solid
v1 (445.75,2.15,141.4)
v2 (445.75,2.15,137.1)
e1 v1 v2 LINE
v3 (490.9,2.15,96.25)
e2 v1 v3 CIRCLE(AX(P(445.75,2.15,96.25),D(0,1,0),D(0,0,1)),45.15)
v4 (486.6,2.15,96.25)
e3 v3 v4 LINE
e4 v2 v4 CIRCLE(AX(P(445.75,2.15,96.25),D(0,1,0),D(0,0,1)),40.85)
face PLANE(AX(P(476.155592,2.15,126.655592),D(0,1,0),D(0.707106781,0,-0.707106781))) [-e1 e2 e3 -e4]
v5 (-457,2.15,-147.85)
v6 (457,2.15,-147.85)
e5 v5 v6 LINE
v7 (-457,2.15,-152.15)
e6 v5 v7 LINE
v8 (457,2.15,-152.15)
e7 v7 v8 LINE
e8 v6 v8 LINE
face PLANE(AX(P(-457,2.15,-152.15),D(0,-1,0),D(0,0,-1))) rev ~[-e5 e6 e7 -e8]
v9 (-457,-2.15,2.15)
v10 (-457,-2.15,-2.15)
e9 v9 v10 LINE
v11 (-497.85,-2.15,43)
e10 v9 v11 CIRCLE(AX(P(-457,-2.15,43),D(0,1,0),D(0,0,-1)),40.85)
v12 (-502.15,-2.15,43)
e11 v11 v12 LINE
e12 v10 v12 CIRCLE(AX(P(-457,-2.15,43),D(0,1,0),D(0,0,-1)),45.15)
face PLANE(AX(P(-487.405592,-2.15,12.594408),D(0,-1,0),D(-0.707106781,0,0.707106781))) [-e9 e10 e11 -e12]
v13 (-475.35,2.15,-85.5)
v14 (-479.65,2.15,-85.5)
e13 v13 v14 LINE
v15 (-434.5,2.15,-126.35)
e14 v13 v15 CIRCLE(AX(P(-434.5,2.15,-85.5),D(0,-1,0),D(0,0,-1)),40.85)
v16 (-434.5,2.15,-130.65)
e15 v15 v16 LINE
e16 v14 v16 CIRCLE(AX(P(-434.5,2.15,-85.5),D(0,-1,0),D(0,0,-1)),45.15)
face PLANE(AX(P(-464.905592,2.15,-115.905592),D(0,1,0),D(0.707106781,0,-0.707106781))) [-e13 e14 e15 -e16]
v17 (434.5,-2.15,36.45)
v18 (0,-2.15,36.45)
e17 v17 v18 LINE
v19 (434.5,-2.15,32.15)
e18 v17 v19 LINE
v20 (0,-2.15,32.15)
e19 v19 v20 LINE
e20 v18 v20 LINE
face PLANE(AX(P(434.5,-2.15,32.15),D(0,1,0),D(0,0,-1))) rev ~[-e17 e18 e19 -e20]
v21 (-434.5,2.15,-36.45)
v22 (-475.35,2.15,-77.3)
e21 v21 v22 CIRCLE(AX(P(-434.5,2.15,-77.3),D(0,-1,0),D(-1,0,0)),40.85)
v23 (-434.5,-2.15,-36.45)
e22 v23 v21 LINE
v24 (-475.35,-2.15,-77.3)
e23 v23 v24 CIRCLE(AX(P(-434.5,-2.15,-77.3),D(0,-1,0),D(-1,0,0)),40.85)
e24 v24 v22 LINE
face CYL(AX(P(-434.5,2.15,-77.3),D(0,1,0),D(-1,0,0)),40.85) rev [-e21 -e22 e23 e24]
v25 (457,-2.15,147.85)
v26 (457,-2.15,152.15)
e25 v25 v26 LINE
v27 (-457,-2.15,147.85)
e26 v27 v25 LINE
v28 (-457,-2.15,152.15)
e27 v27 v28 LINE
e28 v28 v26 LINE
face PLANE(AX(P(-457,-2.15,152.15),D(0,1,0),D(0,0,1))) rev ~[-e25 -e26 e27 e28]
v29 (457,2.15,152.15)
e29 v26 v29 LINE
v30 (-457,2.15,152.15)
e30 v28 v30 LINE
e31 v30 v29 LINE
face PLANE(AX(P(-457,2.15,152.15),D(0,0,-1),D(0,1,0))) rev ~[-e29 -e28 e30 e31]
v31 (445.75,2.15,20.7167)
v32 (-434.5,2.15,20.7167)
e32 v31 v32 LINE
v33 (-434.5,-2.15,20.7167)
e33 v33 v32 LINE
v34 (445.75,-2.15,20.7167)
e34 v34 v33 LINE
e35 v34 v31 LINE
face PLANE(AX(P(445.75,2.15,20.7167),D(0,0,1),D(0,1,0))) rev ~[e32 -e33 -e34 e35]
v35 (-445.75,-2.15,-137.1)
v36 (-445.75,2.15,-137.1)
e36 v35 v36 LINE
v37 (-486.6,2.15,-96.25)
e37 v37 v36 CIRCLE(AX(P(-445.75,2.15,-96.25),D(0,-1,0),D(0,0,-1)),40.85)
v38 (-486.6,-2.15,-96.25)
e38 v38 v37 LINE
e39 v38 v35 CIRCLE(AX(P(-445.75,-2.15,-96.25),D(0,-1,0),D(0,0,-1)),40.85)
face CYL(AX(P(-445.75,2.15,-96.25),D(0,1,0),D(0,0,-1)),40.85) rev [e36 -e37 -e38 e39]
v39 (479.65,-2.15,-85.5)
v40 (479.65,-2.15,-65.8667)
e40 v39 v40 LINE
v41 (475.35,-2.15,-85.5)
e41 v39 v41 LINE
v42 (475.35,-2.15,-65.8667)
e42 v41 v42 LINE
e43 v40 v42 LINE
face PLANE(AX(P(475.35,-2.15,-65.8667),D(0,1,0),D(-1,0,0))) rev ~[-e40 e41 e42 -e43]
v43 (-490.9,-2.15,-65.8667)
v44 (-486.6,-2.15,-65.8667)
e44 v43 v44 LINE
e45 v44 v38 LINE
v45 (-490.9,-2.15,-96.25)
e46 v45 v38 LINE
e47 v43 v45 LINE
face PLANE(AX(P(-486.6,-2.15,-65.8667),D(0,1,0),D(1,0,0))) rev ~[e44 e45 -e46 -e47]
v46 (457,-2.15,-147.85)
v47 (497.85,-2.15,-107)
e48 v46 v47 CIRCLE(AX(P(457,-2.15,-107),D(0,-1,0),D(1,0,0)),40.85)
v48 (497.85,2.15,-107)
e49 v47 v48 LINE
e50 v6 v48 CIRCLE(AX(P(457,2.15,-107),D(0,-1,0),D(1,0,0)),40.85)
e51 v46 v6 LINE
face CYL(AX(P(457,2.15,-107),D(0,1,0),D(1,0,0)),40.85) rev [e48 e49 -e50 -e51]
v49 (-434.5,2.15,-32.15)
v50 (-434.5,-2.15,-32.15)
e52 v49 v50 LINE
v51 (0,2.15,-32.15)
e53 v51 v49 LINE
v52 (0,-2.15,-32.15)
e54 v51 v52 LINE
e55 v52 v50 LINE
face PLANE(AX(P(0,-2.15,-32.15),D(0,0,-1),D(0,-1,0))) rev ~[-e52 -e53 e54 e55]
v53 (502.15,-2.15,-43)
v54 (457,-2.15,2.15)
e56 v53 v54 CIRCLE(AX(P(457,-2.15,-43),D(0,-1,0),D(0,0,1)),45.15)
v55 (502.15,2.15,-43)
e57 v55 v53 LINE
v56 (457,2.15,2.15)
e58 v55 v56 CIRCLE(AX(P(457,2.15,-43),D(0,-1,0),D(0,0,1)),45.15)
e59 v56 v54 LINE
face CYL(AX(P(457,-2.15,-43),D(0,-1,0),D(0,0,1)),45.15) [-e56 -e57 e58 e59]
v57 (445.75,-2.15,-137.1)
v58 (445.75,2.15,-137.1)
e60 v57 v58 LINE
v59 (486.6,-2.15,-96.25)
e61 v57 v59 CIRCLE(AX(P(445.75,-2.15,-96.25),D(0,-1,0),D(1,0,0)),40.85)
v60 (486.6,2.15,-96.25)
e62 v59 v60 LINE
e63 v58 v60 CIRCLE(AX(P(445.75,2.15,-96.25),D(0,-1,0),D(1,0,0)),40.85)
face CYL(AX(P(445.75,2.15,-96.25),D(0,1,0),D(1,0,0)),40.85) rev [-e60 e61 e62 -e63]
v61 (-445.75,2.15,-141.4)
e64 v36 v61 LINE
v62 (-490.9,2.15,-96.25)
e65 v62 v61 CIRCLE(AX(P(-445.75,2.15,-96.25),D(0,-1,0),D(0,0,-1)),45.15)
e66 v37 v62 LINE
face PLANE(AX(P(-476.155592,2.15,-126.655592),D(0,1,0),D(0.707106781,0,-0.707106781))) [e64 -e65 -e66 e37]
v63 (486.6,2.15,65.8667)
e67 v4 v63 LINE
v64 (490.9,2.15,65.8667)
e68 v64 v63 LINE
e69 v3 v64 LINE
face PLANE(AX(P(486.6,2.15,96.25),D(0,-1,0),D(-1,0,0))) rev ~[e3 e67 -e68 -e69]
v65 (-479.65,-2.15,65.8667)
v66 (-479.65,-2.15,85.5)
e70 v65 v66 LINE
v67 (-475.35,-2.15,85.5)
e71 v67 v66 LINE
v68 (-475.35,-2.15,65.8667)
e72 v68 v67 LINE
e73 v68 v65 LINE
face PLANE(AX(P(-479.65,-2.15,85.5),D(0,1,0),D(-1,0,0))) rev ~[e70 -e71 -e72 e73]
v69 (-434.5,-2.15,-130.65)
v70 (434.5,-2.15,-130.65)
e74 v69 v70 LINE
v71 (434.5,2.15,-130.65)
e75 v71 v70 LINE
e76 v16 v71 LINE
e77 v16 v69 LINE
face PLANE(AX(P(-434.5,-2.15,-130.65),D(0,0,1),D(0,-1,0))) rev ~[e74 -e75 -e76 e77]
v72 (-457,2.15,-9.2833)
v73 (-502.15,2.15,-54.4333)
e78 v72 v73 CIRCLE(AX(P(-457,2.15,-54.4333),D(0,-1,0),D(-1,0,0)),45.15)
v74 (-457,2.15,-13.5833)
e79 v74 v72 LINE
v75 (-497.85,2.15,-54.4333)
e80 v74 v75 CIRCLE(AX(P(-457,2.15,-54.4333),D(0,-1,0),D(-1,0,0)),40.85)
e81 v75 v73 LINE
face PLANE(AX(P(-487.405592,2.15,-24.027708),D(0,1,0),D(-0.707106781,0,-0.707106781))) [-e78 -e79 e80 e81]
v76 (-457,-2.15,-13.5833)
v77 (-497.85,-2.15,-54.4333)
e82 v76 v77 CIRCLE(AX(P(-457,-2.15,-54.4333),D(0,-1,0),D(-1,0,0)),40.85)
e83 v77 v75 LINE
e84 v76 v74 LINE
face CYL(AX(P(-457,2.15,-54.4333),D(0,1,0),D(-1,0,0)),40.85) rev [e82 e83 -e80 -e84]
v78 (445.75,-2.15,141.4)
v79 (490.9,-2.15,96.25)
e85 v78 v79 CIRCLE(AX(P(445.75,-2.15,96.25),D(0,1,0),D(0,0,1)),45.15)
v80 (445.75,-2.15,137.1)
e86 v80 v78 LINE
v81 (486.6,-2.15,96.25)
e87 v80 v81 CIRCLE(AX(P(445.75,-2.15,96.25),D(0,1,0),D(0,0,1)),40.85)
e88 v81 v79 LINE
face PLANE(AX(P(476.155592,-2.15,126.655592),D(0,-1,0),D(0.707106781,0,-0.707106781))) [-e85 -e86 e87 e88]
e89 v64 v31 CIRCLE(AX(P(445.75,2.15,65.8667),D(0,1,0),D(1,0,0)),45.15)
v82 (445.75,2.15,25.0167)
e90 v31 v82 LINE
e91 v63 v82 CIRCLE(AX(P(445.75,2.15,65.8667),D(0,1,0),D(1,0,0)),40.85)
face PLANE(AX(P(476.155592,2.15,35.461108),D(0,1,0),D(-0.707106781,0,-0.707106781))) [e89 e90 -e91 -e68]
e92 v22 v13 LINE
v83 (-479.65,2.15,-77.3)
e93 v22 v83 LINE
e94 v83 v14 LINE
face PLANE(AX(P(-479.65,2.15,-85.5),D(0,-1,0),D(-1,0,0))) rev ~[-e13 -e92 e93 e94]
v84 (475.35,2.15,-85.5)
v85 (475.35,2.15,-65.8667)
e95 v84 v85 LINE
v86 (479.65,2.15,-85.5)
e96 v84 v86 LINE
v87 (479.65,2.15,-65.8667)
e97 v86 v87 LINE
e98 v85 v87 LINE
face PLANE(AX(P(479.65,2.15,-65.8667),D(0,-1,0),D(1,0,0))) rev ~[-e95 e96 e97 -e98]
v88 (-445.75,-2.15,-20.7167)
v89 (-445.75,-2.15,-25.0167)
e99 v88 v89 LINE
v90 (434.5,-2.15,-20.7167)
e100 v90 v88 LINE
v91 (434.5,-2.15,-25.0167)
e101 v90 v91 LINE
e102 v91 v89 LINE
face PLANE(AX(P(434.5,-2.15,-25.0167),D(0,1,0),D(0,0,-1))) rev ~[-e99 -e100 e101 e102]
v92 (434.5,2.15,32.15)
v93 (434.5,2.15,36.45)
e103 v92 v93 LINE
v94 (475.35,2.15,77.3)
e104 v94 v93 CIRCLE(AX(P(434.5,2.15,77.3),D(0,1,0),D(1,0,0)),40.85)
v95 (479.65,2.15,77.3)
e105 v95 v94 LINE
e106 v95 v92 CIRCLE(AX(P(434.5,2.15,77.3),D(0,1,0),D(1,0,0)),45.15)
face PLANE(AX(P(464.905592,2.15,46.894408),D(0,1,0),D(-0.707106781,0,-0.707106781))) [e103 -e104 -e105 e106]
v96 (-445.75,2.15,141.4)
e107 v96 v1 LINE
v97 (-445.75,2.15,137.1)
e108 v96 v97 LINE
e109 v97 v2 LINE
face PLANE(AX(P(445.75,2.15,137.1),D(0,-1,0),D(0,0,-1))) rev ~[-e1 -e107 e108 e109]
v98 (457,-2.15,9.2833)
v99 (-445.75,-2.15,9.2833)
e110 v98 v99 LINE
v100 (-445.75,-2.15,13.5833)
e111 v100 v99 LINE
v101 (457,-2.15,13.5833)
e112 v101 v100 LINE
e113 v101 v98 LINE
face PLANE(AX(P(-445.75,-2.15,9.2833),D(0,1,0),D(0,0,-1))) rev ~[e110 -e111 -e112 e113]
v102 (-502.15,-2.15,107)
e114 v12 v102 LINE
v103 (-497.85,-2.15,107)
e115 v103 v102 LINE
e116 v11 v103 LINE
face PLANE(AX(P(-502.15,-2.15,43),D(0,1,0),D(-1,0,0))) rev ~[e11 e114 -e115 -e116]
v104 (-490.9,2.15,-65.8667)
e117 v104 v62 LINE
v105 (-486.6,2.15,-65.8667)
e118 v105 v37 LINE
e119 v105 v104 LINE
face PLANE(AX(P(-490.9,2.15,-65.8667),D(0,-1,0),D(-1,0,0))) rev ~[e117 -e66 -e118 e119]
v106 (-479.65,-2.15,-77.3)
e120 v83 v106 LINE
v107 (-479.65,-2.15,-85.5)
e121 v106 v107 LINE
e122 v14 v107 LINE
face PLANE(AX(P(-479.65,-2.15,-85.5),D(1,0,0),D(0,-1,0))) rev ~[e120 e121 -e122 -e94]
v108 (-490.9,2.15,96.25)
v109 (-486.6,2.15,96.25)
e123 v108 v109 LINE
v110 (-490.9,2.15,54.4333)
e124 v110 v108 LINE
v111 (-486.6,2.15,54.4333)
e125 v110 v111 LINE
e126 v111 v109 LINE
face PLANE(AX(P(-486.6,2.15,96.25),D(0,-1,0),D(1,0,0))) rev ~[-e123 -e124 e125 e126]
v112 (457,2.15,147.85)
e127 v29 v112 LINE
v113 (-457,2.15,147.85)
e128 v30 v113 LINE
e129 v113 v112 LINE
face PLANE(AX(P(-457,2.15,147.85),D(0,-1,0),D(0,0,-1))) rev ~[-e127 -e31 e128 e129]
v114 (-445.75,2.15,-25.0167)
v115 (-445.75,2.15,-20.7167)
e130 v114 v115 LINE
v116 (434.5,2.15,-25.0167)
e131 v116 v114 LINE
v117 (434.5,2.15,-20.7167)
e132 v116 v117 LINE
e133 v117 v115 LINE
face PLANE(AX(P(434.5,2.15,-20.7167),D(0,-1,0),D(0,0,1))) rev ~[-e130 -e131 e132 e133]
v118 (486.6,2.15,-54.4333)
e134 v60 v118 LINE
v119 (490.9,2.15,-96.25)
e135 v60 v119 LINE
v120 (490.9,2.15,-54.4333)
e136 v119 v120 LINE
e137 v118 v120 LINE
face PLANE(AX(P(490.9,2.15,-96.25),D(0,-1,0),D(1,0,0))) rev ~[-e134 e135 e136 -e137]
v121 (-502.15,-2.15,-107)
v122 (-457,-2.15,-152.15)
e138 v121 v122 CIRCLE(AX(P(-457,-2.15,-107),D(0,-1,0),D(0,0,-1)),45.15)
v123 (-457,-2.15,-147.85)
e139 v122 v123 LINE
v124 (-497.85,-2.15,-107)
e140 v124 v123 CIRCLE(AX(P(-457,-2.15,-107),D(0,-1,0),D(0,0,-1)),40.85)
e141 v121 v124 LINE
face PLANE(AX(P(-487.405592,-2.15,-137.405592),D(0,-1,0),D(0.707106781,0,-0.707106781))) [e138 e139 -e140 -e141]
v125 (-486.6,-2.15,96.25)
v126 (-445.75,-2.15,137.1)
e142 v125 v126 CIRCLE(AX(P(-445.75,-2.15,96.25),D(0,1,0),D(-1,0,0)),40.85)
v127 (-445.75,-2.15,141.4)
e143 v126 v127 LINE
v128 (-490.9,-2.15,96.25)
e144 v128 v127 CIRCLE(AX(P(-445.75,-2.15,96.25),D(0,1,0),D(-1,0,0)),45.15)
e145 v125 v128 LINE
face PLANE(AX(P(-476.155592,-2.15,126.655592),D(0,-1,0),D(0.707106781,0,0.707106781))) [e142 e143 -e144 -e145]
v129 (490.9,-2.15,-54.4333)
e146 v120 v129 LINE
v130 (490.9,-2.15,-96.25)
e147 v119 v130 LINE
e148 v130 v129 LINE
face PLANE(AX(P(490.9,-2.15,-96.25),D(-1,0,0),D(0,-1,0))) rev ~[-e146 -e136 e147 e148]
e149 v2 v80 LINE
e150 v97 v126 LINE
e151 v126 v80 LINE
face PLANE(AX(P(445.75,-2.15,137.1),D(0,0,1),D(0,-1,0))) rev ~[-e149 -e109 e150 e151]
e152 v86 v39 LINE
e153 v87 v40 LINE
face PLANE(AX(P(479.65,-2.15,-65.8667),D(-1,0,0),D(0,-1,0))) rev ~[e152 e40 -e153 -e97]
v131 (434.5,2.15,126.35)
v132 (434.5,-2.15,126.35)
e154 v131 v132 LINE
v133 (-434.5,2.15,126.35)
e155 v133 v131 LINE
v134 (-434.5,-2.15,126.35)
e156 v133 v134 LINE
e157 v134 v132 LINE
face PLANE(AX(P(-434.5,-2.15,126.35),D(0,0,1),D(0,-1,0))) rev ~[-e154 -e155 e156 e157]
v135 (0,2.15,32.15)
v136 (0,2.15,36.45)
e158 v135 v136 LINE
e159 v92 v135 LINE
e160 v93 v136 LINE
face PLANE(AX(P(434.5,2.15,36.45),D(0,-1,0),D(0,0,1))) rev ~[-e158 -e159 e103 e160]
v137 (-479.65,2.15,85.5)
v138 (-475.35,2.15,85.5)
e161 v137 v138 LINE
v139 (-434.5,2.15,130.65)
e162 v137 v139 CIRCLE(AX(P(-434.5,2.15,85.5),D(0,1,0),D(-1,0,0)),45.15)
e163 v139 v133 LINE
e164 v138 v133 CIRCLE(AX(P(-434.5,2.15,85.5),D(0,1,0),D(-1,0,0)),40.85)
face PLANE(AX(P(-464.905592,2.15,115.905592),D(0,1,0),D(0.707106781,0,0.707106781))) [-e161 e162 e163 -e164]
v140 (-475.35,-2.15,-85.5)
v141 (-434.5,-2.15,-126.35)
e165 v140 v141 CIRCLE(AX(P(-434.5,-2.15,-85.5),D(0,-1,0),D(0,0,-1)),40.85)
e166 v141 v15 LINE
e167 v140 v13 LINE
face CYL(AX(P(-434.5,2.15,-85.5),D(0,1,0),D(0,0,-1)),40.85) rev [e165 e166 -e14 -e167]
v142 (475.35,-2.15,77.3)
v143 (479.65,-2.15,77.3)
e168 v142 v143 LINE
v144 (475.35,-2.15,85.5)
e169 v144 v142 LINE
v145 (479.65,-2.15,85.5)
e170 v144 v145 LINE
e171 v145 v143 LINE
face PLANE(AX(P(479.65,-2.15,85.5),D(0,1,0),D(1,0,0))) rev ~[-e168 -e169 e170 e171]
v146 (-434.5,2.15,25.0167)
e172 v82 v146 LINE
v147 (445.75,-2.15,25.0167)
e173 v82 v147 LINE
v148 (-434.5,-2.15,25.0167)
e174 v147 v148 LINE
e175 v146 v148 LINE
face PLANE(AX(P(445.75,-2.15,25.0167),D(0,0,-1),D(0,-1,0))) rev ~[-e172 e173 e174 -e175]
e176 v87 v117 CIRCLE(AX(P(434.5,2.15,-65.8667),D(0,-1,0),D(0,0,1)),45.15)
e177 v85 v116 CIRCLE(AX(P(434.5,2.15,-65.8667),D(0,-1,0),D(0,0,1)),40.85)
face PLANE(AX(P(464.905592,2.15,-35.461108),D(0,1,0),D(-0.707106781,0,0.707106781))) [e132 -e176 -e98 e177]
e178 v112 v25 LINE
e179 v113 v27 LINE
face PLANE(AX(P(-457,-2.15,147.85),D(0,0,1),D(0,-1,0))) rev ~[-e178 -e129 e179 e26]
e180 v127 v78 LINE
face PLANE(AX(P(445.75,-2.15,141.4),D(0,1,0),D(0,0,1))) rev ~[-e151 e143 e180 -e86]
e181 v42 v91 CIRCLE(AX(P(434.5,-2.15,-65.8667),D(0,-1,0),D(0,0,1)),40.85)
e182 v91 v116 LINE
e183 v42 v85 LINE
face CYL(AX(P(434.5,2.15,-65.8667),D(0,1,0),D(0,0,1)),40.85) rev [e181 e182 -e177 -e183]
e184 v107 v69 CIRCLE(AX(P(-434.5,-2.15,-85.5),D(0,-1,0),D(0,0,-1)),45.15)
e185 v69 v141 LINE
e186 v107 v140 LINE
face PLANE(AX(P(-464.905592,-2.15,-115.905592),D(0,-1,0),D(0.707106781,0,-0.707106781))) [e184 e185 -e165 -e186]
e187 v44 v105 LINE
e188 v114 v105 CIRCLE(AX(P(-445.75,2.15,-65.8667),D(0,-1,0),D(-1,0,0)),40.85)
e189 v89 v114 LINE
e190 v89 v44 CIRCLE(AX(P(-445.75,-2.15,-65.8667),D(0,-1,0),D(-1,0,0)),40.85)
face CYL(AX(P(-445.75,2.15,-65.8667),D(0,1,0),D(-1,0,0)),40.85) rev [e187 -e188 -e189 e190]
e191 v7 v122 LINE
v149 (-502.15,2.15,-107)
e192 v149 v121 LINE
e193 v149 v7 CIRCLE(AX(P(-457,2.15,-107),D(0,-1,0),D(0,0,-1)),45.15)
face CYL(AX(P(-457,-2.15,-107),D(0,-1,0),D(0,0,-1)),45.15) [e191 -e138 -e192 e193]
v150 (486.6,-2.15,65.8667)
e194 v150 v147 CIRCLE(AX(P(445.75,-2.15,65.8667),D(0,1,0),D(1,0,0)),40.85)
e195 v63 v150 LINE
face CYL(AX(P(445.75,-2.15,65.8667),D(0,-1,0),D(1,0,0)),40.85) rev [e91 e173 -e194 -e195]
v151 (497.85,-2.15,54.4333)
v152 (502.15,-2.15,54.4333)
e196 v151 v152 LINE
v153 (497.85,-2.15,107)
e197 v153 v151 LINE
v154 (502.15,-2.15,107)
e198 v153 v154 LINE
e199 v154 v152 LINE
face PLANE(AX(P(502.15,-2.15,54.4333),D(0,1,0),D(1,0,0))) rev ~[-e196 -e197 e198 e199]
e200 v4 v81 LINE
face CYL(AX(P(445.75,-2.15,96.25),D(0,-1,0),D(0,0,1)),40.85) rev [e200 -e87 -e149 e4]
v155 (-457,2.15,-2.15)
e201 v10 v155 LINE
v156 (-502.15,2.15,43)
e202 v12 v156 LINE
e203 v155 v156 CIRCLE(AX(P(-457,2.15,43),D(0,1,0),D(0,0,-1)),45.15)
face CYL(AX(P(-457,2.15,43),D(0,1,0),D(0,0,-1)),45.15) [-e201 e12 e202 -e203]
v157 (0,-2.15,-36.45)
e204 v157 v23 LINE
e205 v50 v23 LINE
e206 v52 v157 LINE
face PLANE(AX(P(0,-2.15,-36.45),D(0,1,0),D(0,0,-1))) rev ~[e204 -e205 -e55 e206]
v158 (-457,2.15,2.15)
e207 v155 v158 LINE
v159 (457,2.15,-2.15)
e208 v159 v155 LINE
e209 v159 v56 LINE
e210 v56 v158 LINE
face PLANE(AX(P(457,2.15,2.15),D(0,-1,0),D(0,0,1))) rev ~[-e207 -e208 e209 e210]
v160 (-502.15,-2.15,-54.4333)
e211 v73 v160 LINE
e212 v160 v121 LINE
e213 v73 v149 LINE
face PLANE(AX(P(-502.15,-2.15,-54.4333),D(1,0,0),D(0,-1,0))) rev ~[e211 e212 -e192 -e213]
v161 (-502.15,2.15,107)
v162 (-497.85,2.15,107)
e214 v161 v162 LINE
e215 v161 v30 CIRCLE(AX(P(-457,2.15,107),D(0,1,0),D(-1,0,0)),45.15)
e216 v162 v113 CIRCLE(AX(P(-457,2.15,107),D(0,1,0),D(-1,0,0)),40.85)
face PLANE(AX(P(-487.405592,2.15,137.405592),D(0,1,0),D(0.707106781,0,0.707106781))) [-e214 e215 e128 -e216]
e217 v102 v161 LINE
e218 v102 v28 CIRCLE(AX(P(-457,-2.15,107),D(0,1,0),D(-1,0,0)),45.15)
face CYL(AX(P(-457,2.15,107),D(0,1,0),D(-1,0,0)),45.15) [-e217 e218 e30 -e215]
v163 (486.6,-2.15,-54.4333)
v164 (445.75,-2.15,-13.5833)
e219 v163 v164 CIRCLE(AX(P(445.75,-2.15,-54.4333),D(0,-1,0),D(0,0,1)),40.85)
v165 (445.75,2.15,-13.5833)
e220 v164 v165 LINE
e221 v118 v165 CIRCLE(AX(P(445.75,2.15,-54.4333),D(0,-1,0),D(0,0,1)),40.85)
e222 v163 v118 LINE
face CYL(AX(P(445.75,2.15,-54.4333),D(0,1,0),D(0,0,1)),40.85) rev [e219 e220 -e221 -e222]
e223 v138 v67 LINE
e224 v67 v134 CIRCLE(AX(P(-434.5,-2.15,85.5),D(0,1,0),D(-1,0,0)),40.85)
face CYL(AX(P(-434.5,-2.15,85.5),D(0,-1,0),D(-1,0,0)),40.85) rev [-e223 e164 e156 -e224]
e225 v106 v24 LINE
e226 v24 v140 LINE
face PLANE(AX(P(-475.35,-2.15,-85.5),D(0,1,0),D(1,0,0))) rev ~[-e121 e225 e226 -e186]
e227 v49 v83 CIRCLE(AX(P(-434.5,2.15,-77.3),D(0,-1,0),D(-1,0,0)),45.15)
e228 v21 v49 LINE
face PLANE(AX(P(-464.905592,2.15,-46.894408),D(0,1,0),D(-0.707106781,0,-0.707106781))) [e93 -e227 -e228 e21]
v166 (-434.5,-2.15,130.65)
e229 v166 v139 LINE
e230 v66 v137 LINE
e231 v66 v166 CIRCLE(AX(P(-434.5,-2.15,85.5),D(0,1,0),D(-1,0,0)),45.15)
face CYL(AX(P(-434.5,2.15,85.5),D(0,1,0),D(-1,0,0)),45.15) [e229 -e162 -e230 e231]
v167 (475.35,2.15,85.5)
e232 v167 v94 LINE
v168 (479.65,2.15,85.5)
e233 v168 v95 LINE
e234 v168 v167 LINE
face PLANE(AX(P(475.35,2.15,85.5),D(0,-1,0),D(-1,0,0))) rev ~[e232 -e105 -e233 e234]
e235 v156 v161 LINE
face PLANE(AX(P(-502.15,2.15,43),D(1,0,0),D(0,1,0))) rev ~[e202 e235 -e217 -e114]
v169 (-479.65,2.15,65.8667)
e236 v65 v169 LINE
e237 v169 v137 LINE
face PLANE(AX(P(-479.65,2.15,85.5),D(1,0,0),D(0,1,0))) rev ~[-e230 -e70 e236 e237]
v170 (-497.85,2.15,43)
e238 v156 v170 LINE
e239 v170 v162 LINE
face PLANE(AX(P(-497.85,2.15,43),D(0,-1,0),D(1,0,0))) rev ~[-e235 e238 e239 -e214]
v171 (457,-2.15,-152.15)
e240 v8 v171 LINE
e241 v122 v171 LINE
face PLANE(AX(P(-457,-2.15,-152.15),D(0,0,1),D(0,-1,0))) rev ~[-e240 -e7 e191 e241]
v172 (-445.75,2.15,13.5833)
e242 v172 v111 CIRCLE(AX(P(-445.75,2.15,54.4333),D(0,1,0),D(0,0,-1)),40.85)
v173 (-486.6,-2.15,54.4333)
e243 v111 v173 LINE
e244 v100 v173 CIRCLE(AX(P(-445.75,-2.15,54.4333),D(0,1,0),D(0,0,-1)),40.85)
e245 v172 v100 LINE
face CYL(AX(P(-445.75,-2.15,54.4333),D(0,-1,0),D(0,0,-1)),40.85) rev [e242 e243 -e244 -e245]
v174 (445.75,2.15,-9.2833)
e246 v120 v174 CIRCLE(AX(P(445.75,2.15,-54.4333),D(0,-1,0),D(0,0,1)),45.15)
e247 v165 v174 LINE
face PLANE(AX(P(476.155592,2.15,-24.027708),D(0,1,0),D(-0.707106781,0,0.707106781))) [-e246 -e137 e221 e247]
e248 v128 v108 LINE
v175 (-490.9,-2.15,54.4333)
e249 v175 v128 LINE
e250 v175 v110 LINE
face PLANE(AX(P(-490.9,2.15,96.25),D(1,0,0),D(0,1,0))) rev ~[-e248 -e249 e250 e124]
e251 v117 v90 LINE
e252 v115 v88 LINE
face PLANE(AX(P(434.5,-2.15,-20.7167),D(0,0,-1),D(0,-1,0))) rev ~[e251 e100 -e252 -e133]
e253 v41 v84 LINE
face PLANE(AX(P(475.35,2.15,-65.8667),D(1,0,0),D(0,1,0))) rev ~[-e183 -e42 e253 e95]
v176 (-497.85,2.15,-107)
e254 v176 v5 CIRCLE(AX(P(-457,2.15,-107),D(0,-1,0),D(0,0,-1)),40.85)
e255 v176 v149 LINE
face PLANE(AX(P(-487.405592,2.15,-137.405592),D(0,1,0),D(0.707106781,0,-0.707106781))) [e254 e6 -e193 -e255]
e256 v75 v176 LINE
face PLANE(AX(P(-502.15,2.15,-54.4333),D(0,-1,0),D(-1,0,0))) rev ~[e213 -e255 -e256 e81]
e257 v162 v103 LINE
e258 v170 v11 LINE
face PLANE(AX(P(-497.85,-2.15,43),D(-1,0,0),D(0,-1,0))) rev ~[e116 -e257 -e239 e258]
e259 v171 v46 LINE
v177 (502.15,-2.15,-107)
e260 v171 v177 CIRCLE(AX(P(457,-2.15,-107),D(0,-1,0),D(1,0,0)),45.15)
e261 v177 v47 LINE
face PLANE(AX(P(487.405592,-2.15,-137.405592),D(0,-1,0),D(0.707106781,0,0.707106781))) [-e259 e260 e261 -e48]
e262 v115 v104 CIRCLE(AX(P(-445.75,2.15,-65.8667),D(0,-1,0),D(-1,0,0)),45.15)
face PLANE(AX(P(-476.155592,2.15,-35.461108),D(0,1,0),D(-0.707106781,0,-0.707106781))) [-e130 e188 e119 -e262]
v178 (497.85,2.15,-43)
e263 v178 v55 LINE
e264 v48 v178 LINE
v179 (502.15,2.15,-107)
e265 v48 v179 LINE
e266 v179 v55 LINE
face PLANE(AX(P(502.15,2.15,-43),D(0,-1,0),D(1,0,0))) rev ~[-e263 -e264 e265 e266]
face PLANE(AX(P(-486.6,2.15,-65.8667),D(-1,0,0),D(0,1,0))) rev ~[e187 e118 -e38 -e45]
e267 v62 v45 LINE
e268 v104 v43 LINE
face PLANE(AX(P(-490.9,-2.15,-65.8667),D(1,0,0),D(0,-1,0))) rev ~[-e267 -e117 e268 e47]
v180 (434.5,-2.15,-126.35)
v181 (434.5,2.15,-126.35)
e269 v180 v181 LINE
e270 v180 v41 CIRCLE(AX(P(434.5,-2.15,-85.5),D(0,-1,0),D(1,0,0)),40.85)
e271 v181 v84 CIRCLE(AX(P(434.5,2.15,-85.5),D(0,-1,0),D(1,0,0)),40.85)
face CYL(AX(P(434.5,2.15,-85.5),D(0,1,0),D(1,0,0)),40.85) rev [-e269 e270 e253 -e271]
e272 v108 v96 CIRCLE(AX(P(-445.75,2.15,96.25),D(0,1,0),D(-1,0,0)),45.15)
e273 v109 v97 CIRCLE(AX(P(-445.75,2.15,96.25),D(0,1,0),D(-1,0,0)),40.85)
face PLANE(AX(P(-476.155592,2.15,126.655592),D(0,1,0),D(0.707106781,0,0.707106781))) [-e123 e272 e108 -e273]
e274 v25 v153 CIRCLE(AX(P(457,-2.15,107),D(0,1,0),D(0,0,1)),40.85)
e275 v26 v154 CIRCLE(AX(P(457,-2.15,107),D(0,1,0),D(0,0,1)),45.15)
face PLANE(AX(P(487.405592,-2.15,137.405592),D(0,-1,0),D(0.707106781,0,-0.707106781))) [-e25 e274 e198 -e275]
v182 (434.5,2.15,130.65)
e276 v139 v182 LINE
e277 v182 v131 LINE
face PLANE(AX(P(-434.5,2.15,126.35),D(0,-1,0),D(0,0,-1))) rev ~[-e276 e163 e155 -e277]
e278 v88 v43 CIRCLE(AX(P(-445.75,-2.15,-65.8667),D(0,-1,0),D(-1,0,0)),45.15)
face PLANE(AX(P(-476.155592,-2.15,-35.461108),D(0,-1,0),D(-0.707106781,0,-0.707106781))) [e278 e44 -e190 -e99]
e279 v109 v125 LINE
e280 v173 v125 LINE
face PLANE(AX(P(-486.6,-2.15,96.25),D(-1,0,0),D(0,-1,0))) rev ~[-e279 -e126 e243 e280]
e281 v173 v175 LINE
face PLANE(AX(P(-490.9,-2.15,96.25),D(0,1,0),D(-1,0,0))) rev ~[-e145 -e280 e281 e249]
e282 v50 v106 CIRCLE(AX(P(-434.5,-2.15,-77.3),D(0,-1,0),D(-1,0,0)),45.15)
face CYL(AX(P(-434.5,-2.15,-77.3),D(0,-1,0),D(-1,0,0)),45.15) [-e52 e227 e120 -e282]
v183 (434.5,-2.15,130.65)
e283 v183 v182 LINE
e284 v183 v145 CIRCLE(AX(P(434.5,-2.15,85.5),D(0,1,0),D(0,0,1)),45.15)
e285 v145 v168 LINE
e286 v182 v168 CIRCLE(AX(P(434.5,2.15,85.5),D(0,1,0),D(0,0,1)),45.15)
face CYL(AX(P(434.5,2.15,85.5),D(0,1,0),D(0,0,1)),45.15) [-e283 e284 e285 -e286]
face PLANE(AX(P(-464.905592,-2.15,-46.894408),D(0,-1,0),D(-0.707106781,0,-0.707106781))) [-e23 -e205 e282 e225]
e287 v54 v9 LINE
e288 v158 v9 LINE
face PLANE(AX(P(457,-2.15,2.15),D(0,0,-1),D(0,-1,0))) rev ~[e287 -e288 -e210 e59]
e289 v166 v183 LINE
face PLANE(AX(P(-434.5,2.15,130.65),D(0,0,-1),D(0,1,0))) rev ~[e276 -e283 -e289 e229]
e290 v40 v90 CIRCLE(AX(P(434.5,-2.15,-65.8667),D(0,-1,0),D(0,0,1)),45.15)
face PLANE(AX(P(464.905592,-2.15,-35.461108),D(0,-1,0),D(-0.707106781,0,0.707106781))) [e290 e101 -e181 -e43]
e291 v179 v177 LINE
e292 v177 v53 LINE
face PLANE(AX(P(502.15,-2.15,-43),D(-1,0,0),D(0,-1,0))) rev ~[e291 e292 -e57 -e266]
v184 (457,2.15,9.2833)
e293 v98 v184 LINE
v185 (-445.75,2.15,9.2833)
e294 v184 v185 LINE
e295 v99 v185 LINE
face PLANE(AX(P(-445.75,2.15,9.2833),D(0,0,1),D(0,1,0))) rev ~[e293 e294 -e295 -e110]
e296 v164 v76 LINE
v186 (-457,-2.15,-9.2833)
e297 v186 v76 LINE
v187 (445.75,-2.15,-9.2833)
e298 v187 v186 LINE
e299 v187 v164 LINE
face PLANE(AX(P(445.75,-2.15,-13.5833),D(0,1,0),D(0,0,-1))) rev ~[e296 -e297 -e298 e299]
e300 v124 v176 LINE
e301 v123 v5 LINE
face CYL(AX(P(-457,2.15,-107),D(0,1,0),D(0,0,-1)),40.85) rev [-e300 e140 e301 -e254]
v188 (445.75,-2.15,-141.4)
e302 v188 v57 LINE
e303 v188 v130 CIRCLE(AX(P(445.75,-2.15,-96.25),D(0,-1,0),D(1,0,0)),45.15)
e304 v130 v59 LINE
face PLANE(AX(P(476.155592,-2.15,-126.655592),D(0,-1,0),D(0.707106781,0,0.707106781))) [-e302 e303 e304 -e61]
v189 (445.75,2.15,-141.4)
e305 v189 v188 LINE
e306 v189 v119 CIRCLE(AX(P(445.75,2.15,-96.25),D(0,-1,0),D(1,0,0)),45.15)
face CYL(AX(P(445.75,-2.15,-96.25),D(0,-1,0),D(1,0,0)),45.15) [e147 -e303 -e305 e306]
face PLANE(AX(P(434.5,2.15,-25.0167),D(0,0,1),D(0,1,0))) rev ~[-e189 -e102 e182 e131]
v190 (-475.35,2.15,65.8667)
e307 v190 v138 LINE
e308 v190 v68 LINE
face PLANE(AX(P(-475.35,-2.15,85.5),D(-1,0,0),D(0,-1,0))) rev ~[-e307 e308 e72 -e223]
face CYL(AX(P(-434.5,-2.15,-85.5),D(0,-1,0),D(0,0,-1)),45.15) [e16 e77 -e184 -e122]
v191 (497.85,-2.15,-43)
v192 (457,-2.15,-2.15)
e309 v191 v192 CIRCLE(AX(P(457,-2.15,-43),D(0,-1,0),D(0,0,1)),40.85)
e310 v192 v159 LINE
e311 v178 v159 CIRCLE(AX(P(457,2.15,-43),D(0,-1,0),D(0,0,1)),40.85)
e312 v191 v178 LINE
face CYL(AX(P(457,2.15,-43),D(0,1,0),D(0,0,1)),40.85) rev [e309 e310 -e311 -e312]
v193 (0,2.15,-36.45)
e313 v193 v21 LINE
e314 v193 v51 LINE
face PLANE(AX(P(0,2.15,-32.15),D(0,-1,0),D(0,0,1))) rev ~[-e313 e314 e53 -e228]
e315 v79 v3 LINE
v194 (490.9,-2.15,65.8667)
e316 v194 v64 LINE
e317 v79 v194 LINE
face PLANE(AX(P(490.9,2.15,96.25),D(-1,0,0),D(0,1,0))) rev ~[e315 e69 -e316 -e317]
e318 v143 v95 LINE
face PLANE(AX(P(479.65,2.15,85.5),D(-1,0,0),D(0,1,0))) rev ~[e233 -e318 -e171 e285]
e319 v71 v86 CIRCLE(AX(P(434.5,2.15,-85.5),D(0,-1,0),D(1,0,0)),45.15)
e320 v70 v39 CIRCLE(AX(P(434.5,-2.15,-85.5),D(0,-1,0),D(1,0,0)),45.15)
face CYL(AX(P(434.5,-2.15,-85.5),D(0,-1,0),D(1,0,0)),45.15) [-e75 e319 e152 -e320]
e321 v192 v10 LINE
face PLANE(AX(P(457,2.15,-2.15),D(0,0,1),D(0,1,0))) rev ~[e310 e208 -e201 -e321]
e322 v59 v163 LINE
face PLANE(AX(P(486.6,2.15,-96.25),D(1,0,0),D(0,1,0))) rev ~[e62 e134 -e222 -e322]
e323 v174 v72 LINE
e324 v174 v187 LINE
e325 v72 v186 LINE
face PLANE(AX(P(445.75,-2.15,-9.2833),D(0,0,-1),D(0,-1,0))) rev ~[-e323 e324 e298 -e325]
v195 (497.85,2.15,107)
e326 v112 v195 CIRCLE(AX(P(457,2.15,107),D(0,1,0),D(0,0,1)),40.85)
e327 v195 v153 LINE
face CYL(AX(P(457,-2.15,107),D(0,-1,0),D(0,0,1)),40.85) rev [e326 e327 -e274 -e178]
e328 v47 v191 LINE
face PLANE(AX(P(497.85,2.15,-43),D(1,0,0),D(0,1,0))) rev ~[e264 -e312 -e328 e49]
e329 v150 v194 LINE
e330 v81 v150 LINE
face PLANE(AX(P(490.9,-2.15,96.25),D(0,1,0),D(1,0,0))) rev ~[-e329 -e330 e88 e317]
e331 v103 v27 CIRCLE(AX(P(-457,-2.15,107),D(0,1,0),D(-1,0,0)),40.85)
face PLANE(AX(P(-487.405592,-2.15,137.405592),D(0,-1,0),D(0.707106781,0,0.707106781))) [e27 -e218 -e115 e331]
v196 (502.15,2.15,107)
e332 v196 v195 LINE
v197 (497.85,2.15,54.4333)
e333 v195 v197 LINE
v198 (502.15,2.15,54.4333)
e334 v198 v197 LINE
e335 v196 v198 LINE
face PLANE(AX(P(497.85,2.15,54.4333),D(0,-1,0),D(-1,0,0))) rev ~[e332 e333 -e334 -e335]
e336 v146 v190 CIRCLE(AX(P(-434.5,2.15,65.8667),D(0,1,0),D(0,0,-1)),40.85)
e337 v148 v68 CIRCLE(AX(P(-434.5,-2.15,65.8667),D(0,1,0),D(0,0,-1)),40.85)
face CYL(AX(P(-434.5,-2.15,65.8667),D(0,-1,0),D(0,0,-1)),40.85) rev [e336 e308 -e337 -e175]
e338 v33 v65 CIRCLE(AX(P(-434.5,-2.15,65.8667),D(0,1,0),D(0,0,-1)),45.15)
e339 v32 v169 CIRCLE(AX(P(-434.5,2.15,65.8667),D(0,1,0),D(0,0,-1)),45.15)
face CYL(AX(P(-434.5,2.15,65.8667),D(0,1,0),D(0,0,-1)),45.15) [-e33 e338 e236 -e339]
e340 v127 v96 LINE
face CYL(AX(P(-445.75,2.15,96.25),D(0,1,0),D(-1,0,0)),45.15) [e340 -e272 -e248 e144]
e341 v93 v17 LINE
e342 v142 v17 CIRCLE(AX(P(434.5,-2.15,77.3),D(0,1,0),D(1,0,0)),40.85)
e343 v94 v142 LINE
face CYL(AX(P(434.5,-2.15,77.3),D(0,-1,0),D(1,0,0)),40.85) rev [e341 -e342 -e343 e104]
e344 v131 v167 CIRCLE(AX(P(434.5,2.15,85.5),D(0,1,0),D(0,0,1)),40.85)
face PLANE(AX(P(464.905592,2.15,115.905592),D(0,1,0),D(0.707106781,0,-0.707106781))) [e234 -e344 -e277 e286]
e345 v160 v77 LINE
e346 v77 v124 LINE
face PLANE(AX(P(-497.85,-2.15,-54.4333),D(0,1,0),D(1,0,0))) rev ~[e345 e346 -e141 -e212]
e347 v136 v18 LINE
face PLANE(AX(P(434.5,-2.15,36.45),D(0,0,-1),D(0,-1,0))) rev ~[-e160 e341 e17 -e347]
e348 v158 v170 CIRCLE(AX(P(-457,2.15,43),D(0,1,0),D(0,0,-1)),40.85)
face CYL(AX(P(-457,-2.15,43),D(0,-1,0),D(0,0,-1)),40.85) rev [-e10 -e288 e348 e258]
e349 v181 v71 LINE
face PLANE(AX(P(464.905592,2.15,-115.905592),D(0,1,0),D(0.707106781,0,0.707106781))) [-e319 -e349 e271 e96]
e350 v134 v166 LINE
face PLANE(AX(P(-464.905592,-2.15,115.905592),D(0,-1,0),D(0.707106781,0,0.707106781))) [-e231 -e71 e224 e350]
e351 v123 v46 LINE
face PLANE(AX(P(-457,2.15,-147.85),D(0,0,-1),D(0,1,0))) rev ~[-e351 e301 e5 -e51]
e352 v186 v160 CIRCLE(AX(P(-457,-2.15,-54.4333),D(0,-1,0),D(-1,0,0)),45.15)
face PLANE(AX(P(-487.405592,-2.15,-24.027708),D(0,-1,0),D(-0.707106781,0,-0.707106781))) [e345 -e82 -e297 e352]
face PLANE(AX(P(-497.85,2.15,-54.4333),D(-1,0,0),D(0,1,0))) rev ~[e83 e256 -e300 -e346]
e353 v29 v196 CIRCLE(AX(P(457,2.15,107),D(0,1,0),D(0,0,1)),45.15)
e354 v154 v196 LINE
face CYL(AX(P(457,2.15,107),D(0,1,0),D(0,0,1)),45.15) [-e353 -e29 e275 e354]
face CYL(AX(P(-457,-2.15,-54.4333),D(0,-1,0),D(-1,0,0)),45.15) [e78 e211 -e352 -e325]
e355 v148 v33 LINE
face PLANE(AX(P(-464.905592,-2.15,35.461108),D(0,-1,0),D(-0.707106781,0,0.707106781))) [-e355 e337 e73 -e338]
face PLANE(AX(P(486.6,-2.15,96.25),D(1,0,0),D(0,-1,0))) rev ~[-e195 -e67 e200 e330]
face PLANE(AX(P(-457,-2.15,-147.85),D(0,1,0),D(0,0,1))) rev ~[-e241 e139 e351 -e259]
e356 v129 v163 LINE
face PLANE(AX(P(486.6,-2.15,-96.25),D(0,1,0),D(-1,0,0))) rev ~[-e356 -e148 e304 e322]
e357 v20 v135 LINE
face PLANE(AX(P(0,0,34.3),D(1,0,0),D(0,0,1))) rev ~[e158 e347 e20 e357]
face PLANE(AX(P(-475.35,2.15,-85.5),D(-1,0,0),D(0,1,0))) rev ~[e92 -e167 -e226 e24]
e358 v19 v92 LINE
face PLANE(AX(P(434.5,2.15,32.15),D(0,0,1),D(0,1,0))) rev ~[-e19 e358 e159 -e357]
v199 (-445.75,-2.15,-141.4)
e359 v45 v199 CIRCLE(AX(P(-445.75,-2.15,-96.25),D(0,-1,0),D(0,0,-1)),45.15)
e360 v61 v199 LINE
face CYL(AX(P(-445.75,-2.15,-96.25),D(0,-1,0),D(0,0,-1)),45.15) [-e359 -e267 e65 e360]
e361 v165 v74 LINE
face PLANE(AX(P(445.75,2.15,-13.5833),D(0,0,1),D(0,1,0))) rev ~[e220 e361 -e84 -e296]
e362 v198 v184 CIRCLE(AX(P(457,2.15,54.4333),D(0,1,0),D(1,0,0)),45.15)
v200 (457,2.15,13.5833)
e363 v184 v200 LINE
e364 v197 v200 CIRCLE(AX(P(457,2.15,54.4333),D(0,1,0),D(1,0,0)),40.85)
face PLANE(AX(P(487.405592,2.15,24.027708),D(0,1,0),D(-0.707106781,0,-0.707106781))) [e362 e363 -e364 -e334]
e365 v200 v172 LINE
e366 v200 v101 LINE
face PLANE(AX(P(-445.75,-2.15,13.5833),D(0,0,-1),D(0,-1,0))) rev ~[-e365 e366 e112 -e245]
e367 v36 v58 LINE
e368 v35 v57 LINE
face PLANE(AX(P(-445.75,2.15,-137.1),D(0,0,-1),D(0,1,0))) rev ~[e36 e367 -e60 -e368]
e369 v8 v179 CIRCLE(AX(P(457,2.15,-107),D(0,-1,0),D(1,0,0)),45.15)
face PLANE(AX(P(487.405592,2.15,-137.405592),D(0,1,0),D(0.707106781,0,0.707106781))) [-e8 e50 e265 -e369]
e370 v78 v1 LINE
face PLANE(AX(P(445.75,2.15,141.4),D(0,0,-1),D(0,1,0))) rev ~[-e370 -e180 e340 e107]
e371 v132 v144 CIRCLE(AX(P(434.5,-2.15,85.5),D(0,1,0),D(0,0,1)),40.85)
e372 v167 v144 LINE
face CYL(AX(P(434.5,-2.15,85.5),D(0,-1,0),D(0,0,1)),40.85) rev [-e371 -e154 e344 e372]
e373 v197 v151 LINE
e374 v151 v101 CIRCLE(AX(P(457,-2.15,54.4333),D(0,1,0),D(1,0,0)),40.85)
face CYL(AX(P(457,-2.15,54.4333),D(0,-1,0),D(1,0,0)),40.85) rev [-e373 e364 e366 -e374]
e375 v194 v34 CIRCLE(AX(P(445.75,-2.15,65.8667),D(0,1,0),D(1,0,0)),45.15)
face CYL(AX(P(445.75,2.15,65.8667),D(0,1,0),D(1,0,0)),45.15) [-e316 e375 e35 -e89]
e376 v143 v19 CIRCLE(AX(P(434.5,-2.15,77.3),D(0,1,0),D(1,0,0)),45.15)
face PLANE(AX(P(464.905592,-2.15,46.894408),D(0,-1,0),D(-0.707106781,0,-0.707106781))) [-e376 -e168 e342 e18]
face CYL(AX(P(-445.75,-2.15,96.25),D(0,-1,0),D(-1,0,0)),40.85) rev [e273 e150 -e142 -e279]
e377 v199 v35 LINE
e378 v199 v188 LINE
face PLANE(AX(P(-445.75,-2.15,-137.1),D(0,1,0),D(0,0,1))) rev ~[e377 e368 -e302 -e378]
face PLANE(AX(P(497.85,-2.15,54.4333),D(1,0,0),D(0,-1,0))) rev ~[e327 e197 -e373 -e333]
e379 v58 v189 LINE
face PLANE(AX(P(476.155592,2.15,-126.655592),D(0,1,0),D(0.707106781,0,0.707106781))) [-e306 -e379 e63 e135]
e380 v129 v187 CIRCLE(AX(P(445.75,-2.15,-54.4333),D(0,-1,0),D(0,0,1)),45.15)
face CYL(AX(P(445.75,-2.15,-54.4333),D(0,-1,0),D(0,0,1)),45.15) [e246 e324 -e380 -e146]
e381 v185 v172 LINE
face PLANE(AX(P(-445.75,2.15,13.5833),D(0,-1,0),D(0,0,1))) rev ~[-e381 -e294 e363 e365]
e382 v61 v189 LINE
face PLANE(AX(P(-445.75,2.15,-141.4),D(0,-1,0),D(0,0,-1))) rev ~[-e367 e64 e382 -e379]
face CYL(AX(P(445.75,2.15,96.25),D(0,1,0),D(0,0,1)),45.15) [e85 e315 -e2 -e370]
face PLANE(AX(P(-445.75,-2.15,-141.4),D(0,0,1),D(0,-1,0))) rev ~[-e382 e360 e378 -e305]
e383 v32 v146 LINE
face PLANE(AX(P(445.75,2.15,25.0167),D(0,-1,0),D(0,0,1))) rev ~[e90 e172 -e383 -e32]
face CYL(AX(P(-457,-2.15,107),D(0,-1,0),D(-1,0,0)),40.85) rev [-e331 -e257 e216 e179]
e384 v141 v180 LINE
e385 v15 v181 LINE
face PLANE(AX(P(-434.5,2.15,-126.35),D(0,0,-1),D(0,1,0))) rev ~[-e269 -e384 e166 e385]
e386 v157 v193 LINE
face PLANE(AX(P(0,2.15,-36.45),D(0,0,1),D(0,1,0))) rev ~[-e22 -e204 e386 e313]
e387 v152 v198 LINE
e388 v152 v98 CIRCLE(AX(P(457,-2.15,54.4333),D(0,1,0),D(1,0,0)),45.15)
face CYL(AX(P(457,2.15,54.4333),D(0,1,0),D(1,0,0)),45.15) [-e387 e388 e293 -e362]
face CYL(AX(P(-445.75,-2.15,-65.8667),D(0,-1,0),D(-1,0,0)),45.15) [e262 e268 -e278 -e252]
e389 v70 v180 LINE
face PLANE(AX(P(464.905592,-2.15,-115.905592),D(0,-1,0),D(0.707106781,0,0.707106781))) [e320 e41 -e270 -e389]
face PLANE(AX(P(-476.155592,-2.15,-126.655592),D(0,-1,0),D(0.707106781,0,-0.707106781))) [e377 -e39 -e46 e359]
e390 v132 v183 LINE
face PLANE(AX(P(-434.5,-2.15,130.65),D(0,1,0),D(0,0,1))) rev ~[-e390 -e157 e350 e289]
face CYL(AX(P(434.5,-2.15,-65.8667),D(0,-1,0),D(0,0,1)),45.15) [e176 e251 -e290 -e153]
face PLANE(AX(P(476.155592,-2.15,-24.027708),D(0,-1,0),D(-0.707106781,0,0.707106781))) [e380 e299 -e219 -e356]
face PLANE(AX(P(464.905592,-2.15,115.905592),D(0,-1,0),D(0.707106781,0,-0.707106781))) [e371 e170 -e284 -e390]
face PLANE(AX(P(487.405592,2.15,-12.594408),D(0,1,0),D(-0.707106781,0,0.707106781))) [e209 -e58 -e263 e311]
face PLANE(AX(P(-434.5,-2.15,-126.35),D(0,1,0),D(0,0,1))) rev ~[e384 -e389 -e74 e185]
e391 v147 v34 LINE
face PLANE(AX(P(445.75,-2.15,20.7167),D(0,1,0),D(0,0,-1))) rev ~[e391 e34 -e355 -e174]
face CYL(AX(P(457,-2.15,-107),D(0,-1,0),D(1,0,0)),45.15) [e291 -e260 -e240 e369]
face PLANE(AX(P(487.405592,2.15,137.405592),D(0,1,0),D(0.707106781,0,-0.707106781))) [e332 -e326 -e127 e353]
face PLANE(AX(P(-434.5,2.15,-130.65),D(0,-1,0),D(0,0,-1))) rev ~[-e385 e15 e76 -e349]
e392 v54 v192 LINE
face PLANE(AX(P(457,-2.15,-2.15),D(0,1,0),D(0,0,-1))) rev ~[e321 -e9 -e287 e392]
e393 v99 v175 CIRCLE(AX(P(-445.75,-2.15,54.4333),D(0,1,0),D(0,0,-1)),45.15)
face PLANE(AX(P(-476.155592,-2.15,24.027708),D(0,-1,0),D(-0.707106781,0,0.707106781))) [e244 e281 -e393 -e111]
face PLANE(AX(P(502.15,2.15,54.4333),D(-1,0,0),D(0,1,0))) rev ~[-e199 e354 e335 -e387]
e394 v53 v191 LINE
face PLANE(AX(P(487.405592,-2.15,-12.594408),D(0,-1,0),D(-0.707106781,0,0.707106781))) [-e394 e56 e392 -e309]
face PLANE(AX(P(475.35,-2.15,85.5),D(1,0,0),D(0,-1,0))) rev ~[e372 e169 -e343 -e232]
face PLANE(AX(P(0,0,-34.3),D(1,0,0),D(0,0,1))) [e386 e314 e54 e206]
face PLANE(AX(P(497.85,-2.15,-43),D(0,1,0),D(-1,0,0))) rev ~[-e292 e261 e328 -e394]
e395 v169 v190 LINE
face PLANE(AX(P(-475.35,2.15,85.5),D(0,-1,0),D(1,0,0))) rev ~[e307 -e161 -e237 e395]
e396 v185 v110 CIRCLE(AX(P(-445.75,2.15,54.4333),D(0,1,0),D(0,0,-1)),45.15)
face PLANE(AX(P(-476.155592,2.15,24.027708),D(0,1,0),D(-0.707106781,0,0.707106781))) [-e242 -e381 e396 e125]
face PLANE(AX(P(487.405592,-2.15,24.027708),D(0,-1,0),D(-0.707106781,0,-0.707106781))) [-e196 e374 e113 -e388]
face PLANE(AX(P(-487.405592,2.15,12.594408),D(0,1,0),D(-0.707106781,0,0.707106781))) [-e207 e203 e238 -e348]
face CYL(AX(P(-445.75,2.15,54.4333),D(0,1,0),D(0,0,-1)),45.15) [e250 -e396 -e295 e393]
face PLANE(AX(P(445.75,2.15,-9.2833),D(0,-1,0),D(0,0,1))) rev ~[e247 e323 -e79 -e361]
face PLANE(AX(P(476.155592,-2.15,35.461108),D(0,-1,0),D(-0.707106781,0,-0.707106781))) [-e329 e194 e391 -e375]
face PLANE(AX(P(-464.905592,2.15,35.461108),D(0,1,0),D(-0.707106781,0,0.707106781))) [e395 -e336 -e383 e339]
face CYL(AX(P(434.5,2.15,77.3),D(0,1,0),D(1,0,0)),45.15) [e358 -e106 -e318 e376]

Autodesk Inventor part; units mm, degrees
ref_plane "YZ Plane" through (0, 0, 0) normal (1, 0, 0) x (0, 1, 0)
ref_plane "XZ Plane" through (0, 0, 0) normal (0, 1, 0) x (-1, 0, 0)
ref_plane "XY Plane" through (0, 0, 0) normal (0, 0, 1) x (1, 0, 0)
sketch "Sketch1" plane through (0, 0, 0) normal (0, 1, 0) x (-1, 0, 0)
  line L0 (0, 0) -> (-500, 0) construction
  line L1 (-500, 0) -> (-500, -150) construction
  line L2 (-500, -150) -> (500, -150) construction
  line L3 (500, -150) -> (500, -11.4333) construction
  line L4 (500, -11.4333) -> (-488.75, -11.4333) construction
  line L5 (-488.75, -11.4333) -> (-488.75, -139.25) construction
  line L6 (-488.75, -139.25) -> (488.75, -139.25) construction
  line L7 (488.75, -139.25) -> (488.75, -22.8667) construction
  line L8 (488.75, -22.8667) -> (-477.5, -22.8667) construction
  line L9 (-477.5, -22.8667) -> (-477.5, -128.5) construction
  line L10 (-477.5, -128.5) -> (477.5, -128.5) construction
  line L11 (477.5, -128.5) -> (477.5, -34.3) construction
  line L12 (477.5, -34.3) -> (0, -34.3) construction
  line L13 (0, 0) -> (0, -11.4333) construction
  line L14 (0, -11.4333) -> (0, -22.8667) construction
  line L15 (0, -22.8667) -> (0, -34.3) construction
  line L16 (0, -128.5) -> (0, -139.25) construction
  line L17 (0, -139.25) -> (0, -150) construction
  line L18 (500, -34.3) -> (488.75, -34.3) construction
  line L19 (488.75, -34.3) -> (477.5, -34.3) construction
  line L20 (-477.5, -22.8667) -> (-488.75, -22.8667) construction
  line L21 (-488.75, -22.8667) -> (-500, -22.8667) construction
  line L22 (0, 0) -> (500, 0)
  line L23 (500, 0) -> (500, 150) construction
  line L24 (500, 150) -> (-500, 150) construction
  line L25 (-500, 150) -> (-500, 11.4333) construction
  line L26 (-500, 11.4333) -> (488.75, 11.4333) construction
  line L27 (488.75, 11.4333) -> (488.75, 139.25) construction
  line L28 (488.75, 139.25) -> (-488.75, 139.25) construction
  line L29 (-488.75, 139.25) -> (-488.75, 22.8667) construction
  line L30 (-488.75, 22.8667) -> (477.5, 22.8667) construction
  line L31 (477.5, 22.8667) -> (477.5, 128.5) construction
  line L32 (477.5, 128.5) -> (-477.5, 128.5) construction
  line L33 (-477.5, 128.5) -> (-477.5, 34.3) construction
  line L34 (-477.5, 34.3) -> (0, 34.3) construction
  line L35 (0, 0) -> (0, 11.4333) construction
  line L36 (0, 11.4333) -> (0, 22.8667) construction
  line L37 (0, 22.8667) -> (0, 34.3) construction
  line L38 (0, 128.5) -> (0, 139.25) construction
  line L39 (0, 139.25) -> (0, 150) construction
  line L40 (-500, 34.3) -> (-488.75, 34.3) construction
  line L41 (-488.75, 34.3) -> (-477.5, 34.3) construction
  line L42 (477.5, 22.8667) -> (488.75, 22.8667) construction
  line L43 (488.75, 22.8667) -> (500, 22.8667) construction
  arc A0 (477.5, -77.3) -> (434.5, -34.3) centre (434.5, -77.3) ccw
  arc A1 (488.75, -65.8667) -> (445.75, -22.8667) centre (445.75, -65.8667) ccw
  arc A2 (500, -54.4333) -> (457, -11.4333) centre (457, -54.4333) ccw
  arc A3 (434.5, -128.5) -> (477.5, -85.5) centre (434.5, -85.5) ccw
  arc A4 (445.75, -139.25) -> (488.75, -96.25) centre (445.75, -96.25) ccw
  arc A5 (457, -150) -> (500, -107) centre (457, -107) ccw
  arc A6 (-434.5, -22.8667) -> (-477.5, -65.8667) centre (-434.5, -65.8667) ccw
  arc A7 (-477.5, 77.3) -> (-434.5, 34.3) centre (-434.5, 77.3) ccw
  arc A8 (-488.75, 65.8667) -> (-445.75, 22.8667) centre (-445.75, 65.8667) ccw
  arc A9 (-500, 54.4333) -> (-457, 11.4333) centre (-457, 54.4333) ccw
  arc A10 (-500, -107) -> (-457, -150) centre (-457, -107) ccw
  arc A11 (-488.75, -96.25) -> (-445.75, -139.25) centre (-445.75, -96.25) ccw
  arc A12 (-477.5, -85.5) -> (-434.5, -128.5) centre (-434.5, -85.5) ccw
  arc A13 (-457, 150) -> (-500, 107) centre (-457, 107) ccw
  arc A14 (-445.75, 139.25) -> (-488.75, 96.25) centre (-445.75, 96.25) ccw
  arc A15 (434.5, 22.8667) -> (477.5, 65.8667) centre (434.5, 65.8667) ccw
  arc A16 (445.75, 11.4333) -> (488.75, 54.4333) centre (445.75, 54.4333) ccw
  arc A17 (457, 0) -> (500, 43) centre (457, 43) ccw
  arc A18 (477.5, 85.5) -> (434.5, 128.5) centre (434.5, 85.5) ccw
  arc A19 (-445.75, -11.4333) -> (-488.75, -54.4333) centre (-445.75, -54.4333) ccw
  arc A20 (-457, 0) -> (-500, -43) centre (-457, -43) ccw
  arc A21 (-434.5, 128.5) -> (-477.5, 85.5) centre (-434.5, 85.5) ccw
  arc A22 (500, 107) -> (457, 150) centre (457, 107) ccw
  arc A23 (488.75, 96.25) -> (445.75, 139.25) centre (445.75, 96.25) ccw
  line L44 (0, -34.3) -> (434.5, -34.3)
  line L45 (434.5, -128.5) -> (-434.5, -128.5)
  line L46 (-434.5, -22.8667) -> (445.75, -22.8667)
  line L47 (445.75, -139.25) -> (-445.75, -139.25)
  line L48 (457, -150) -> (-457, -150)
  line L49 (-445.75, -11.4333) -> (457, -11.4333)
  line L50 (-457, 0) -> (457, 0)
  line L51 (500, -54.4333) -> (500, -107)
  line L52 (488.75, -65.8667) -> (488.75, -96.25)
  line L53 (477.5, -85.5) -> (477.5, -77.3)
  line L54 (-477.5, -65.8667) -> (-477.5, -85.5)
  line L55 (-488.75, -96.25) -> (-488.75, -54.4333)
  line L56 (-500, -43) -> (-500, -107)
  line L57 (-500, 54.4333) -> (-500, 107)
  line L58 (-488.75, 96.25) -> (-488.75, 65.8667)
  line L59 (500, 43) -> (500, 107)
  line L60 (488.75, 96.25) -> (488.75, 54.4333)
  line L61 (477.5, 85.5) -> (477.5, 65.8667)
  line L62 (445.75, 11.4333) -> (-457, 11.4333)
  line L63 (-445.75, 22.8667) -> (434.5, 22.8667)
  line L64 (434.5, 128.5) -> (-434.5, 128.5)
  line L65 (-445.75, 139.25) -> (445.75, 139.25)
  line L66 (457, 150) -> (-457, 150)
  line L67 (-434.5, 34.3) -> (0, 34.3)
  line L68 (-477.5, 85.5) -> (-477.5, 77.3)
  dimension "d5" = 1000
  dimension "d6" = 150
  dimension "d7" = 500
  dimension "d8" = 34.3
  dimension "d9" = 21.5
  dimension "d11" = 22.5
  dimension "d13" = 150
  dimension "d14" = 500
  dimension "d15" = 34.3
  dimension "d16" = 21.5
  dimension "d17" = 22.5
  dimension "d18" = 0
  dimension "d19" = 43
sketch "Sketch2" plane through (0, 0, 0) normal (1, 0, 0) x (0, 1, 0)
  line L0 (-2.15, -32.15) -> (2.15, -32.15)
  line L1 (2.15, -32.15) -> (2.15, -36.45)
  line L2 (2.15, -36.45) -> (-2.15, -36.45)
  line L3 (-2.15, -36.45) -> (-2.15, -32.15)
  line L4 (-2.15, -32.15) -> (2.15, -36.45) construction
  line L5 (2.15, -32.15) -> (-2.15, -36.45) construction
  point P0 (0, 0)
  point P1 (0, -34.3)
  dimension "d20" = 4.3
sweep "Sweep2" add profiles "Sketch2" path "Sketch1" path curves L44 A0 L53 A3 L45 A12 L54 A6 L46 A1 L52 A4 L47 A11 L55 A19 L49 A2 L51 A5 L48 A10 L56 A20 L50 A17 L59 A22 L66 A13 L57 A9 L62 A16 L60 A23 L65 A14 L58 A8 L63 A15 L61 A18 L64 A21 L68 A7 L67
